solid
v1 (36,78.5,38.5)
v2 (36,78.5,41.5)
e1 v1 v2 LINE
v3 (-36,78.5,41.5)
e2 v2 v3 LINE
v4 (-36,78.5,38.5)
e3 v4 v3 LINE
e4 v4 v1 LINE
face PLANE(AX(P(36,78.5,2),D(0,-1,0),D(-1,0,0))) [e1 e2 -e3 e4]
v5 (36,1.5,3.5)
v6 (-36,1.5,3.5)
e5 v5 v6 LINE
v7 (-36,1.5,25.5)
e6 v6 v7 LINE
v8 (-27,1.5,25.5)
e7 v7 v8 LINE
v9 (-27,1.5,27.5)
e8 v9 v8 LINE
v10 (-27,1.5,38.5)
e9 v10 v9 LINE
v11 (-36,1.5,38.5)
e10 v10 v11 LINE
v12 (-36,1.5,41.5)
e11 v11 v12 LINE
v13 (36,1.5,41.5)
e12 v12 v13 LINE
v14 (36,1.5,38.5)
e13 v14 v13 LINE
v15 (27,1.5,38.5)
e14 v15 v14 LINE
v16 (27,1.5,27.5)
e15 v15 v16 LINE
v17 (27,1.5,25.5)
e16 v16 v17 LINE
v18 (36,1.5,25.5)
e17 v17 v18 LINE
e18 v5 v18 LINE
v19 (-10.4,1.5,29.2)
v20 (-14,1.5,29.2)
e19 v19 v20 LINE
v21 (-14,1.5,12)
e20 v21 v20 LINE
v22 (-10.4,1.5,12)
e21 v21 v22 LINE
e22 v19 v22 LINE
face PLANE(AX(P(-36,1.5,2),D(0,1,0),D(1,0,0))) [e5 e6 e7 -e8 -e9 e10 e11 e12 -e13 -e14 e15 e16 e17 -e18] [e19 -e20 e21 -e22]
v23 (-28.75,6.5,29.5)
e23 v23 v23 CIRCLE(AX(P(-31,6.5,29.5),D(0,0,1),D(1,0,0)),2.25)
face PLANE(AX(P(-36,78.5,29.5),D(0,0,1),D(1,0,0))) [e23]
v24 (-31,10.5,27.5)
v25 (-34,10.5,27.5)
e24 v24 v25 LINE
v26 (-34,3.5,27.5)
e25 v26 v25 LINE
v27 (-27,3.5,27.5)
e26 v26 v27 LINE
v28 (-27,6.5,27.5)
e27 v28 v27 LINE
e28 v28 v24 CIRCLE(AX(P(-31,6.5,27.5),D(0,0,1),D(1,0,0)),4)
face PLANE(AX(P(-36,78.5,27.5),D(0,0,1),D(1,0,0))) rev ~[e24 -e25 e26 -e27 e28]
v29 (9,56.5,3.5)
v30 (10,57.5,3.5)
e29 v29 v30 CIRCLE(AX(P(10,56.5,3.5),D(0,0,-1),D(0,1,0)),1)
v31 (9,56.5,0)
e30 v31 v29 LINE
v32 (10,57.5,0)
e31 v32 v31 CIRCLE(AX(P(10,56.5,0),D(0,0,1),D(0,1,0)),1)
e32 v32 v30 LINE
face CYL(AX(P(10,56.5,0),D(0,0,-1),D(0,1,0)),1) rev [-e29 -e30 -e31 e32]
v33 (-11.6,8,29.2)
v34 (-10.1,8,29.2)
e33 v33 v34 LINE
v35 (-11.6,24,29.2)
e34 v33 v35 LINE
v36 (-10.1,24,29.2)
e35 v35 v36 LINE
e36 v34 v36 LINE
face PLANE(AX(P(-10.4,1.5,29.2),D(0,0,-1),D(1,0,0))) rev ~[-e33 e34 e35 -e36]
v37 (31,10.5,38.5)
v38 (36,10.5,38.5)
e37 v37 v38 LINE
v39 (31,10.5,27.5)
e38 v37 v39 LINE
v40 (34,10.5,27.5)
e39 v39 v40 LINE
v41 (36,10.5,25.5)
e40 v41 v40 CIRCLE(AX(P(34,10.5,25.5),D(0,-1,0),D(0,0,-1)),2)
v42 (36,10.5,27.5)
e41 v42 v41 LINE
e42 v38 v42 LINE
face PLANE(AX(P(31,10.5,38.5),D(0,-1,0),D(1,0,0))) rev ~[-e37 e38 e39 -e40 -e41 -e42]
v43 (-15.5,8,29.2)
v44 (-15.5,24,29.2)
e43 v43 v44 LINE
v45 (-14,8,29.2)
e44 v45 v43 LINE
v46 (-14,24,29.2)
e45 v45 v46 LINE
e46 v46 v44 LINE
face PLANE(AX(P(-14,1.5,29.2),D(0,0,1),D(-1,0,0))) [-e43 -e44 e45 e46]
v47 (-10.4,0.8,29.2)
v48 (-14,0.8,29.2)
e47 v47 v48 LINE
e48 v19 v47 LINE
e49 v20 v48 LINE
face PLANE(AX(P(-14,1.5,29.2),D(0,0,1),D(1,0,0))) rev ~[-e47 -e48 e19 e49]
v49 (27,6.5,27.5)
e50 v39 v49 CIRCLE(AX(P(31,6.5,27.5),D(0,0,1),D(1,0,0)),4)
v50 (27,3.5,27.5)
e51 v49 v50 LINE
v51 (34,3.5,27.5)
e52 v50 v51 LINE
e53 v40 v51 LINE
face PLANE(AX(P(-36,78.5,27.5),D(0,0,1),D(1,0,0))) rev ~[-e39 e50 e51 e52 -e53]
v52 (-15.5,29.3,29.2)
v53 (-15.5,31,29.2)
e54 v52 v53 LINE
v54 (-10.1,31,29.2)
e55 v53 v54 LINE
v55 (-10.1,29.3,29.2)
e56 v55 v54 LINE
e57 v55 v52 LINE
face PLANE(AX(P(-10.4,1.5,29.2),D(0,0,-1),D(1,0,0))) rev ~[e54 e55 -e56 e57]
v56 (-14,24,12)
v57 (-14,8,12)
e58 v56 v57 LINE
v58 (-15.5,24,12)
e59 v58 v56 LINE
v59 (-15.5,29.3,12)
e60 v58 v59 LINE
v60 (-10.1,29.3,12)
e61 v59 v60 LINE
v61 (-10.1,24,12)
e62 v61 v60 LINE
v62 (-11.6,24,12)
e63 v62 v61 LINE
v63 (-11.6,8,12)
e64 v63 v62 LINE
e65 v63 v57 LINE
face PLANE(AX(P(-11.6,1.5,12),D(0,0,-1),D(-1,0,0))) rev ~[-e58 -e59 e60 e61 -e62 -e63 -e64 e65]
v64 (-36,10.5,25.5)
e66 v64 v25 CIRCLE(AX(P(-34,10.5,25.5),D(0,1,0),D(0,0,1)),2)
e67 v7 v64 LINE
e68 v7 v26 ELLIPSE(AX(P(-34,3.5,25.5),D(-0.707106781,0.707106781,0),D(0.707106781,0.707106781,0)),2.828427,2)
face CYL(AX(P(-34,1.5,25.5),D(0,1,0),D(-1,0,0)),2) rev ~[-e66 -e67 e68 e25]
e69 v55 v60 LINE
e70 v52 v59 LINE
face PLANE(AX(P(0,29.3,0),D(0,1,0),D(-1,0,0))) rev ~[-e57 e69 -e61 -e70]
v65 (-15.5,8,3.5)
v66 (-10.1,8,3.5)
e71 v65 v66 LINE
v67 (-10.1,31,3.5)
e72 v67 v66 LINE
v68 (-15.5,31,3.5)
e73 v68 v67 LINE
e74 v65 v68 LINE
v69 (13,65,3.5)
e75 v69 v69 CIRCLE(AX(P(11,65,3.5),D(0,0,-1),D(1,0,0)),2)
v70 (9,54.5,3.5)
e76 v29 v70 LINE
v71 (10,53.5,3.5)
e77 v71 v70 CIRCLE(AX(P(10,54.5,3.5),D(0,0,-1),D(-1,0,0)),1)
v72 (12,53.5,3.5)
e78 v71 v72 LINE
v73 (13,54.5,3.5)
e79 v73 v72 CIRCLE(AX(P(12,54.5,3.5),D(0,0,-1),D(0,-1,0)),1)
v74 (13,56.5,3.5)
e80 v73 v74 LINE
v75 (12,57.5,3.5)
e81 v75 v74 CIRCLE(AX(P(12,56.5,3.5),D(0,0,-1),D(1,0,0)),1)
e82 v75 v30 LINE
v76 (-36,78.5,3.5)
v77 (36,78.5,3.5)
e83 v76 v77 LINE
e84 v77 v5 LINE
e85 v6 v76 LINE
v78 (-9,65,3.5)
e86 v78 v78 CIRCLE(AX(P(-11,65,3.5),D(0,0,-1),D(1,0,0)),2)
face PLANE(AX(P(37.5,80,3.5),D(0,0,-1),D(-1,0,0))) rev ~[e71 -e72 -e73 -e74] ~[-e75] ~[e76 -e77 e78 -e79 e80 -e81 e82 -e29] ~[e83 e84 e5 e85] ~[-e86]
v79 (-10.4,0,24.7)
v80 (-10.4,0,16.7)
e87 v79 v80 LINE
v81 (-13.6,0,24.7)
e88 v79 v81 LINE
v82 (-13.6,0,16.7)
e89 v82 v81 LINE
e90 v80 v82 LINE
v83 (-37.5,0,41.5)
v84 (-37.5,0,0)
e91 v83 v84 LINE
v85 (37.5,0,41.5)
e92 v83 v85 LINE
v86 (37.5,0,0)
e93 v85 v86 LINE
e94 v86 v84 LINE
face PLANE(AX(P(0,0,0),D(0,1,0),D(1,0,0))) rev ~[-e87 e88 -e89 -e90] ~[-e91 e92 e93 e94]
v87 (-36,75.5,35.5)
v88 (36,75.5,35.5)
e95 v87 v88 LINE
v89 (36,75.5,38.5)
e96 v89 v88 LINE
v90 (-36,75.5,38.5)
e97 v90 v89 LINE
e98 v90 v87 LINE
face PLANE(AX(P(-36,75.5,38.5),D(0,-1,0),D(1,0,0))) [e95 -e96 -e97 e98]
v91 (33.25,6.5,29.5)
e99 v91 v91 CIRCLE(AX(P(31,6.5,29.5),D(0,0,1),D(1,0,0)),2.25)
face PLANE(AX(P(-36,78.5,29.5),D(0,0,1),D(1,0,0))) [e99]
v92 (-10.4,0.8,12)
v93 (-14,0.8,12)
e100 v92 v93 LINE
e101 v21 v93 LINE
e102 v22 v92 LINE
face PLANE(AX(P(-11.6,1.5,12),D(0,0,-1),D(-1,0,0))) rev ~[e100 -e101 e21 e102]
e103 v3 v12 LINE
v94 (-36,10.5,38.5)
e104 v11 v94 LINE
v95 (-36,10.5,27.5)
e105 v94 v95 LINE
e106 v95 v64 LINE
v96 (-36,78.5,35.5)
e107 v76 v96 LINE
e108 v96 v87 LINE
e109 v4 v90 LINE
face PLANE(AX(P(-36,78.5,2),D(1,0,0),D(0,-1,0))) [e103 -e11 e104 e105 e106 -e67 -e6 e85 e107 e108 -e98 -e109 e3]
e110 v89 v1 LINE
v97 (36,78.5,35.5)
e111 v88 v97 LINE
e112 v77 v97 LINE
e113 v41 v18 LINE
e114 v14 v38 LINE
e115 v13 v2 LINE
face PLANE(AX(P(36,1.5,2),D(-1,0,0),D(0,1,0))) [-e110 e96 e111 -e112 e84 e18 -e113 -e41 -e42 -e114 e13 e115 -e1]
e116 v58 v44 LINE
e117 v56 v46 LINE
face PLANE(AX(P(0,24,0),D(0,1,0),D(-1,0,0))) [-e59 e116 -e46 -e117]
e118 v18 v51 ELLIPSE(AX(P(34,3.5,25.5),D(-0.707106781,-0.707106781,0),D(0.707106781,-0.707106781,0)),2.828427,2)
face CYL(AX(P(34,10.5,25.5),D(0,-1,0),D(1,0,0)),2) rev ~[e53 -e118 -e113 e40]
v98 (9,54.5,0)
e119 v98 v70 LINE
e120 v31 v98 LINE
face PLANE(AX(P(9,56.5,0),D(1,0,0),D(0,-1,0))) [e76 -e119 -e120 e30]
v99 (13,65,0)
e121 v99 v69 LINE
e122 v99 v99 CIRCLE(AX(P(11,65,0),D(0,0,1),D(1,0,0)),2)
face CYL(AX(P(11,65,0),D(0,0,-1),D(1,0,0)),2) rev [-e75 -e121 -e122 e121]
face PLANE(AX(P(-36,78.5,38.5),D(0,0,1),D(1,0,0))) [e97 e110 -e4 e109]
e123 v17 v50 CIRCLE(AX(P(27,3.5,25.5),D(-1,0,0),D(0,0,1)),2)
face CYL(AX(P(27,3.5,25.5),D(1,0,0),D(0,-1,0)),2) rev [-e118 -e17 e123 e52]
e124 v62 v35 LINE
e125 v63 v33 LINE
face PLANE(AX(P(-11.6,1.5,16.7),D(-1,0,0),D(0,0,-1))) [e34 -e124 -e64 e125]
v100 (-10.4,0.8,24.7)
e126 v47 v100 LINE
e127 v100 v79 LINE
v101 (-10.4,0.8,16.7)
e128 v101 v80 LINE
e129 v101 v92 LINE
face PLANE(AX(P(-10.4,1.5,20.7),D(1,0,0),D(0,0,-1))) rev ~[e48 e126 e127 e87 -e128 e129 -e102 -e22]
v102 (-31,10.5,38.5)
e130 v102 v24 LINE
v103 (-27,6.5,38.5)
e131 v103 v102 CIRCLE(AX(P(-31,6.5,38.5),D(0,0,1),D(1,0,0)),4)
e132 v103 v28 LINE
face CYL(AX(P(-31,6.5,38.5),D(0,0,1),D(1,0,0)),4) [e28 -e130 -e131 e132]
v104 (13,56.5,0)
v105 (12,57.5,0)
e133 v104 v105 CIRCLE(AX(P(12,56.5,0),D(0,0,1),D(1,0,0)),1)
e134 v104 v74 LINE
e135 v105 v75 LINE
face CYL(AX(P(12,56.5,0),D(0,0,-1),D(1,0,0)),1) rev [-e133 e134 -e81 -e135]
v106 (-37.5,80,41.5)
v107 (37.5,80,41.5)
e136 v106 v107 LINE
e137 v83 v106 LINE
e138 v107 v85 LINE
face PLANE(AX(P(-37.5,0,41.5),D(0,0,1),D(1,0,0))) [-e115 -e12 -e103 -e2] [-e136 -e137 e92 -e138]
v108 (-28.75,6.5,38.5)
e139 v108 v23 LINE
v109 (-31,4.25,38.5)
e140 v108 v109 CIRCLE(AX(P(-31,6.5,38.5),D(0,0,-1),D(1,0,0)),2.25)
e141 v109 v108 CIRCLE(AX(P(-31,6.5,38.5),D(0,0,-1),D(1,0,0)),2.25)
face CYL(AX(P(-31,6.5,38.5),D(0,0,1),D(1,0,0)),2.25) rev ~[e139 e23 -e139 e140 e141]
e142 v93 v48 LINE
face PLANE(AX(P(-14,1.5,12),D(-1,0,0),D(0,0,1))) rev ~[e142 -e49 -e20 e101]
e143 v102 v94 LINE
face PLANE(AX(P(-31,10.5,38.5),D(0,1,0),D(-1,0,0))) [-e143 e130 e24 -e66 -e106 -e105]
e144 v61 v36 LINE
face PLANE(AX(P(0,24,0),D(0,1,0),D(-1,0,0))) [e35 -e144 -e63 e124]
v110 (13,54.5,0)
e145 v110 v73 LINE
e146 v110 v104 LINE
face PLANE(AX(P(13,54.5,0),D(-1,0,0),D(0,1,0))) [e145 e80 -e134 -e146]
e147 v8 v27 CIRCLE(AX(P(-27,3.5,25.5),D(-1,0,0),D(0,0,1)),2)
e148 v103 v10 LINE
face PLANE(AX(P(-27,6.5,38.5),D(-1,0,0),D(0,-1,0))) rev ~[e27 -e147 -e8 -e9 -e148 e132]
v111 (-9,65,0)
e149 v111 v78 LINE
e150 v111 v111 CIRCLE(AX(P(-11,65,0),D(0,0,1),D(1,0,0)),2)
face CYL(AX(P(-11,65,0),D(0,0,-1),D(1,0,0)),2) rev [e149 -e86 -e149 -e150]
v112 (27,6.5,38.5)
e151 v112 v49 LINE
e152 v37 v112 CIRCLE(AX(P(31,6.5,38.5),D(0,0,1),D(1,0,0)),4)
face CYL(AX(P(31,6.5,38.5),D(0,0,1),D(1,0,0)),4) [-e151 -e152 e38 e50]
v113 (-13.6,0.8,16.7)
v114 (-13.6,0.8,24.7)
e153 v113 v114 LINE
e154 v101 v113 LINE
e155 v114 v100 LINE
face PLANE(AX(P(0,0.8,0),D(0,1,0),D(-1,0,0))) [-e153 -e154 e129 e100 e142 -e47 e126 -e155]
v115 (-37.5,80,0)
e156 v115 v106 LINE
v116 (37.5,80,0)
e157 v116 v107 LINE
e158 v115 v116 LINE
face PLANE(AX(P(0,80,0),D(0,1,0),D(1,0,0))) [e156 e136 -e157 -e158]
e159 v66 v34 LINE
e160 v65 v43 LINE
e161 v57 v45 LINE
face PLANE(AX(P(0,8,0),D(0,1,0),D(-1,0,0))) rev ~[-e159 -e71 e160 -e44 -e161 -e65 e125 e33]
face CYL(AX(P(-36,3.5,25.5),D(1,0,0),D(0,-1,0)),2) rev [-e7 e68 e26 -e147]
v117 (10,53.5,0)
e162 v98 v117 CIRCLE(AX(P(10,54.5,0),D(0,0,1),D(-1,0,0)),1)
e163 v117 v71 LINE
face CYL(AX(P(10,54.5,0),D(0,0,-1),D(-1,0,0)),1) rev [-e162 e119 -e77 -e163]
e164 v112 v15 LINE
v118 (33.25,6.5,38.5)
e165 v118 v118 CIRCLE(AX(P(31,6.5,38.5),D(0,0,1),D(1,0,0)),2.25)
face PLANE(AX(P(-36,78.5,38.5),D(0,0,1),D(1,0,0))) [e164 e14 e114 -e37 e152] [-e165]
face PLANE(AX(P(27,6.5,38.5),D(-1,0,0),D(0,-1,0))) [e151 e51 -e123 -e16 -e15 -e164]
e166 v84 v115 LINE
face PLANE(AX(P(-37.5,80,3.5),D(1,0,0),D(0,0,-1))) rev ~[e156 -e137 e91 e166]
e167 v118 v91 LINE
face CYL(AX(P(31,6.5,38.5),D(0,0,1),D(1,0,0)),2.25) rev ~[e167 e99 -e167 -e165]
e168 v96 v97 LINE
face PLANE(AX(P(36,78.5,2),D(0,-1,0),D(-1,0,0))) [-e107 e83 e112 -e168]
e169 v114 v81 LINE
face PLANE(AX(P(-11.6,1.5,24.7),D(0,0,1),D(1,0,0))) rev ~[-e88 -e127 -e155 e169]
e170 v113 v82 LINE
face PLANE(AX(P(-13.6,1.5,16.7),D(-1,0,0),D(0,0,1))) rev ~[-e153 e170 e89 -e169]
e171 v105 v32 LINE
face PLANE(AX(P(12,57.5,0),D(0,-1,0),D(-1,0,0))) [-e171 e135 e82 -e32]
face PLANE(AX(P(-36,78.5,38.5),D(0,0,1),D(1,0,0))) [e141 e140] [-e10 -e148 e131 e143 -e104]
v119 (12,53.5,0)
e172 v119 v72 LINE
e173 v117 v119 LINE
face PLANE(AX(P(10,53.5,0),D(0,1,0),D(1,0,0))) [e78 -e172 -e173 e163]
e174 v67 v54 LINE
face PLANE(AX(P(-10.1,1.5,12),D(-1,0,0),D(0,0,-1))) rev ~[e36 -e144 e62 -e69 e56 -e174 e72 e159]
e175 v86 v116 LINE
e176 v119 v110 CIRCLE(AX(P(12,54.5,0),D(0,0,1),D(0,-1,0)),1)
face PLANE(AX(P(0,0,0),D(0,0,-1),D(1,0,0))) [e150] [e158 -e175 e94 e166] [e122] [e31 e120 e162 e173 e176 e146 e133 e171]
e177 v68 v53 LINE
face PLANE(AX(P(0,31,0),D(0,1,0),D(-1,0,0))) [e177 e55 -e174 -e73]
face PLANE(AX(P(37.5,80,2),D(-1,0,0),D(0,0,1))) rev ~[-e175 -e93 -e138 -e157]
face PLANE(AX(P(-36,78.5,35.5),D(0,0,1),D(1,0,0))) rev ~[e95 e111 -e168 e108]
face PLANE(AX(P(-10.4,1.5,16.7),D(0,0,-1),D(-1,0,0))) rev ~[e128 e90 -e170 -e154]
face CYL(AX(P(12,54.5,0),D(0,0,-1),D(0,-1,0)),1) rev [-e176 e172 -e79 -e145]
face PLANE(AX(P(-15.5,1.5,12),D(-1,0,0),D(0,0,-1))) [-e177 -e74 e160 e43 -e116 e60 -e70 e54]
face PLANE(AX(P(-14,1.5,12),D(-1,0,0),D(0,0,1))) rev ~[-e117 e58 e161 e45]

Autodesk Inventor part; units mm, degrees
sketch "Boceto1" plane through (0, 0, 0) normal (0, 1, 0) x (-1, 0, 0)
  line L0 (0, 0) -> (0, 0)
  line L1 (0, 0) -> (37.5, 0)
  line L2 (37.5, 0) -> (37.5, -1.5)
  line L3 (37.5, -1.5) -> (37.5, -3.5)
  line L4 (37.5, -3.5) -> (37.5, -2)
  line L5 (37.5, 0) -> (37.5, 0)
  line L6 (37.5, -3.5) -> (34, -3.5)
  line L7 (34, -3.5) -> (34, -2)
  line L8 (34, -2) -> (36, -2)
  line L9 (37.5, 0) -> (37.5, 0)
  line L10 (0, 0) -> (0, -10)
  line L11 (0, 0) -> (37.5, 0)
  line L12 (37.5, 0) -> (0, 0)
  line L13 (0, 0) -> (0, 0)
  line L14 (0, 0) -> (-37.5, 0)
  line L15 (-37.5, 0) -> (-37.5, -1.5)
  line L16 (-37.5, -1.5) -> (-37.5, -3.5)
  line L17 (-37.5, -3.5) -> (-37.5, -2)
  line L18 (-37.5, 0) -> (-37.5, 0)
  line L19 (-37.5, -3.5) -> (-34, -3.5)
  line L20 (-34, -3.5) -> (-34, -2)
  line L21 (-34, -2) -> (-36, -2)
  line L22 (-37.5, 0) -> (-37.5, 0)
  line L23 (0, 0) -> (-37.5, 0)
  line L24 (0, 0) -> (-37.5, 0)
  line L25 (37.5, 0) -> (-37.5, 0)
  line L26 (-37.5, 0) -> (-37.5, 2)
  line L27 (-37.5, 2) -> (37.5, 2)
  line L28 (37.5, 2) -> (37.5, 0)
  dimension "d0" = 0
  dimension "d1" = 37.5
  dimension "d3" = 1.5
  dimension "d4" = 2
  dimension "d5" = 1.5
  dimension "d6" = 3.5
  dimension "d7" = 2
  dimension "d8" = 0
  dimension "d9" = 10
  dimension "d31" = 2
extrude "Extrusión1" [suppressed]
sketch "Boceto2" plane through (0, 0, 0) normal (0, 0, 1) x (1, 0, 0)
  line L0 (0, 0) -> (-15, 0)
  line L1 (-15, 0) -> (-15, 62.7974)
  line L2 (-15, 62.7974) -> (-12.5, 62.7974)
  line L3 (-12.5, 62.7974) -> (-15, 60.2974)
  line L4 (-12.5, 62.7974) -> (-15, 64.2408)
  line L5 (-15, 62.7974) -> (-15, 64.2408)
  line L6 (-15, 62.7974) -> (-15, 82.1308)
  line L7 (-15, 82.1308) -> (-13, 85.5949)
  line L8 (-15, 82.1308) -> (-15, 85.5949)
  line L9 (-15, 85.5949) -> (0, 85.5949)
  line L10 (0, 85.5949) -> (0, 0)
  line L11 (-15, 62.7974) -> (-15, 43.4641)
  line L12 (-15, 43.4641) -> (-13, 40)
  line L13 (-13, 40) -> (-13, 0)
  line L14 (0, 0) -> (15, 0)
  line L15 (15, 0) -> (15, 62.7974)
  line L16 (15, 62.7974) -> (12.5, 62.7974)
  line L17 (12.5, 62.7974) -> (15, 60.2974)
  line L18 (12.5, 62.7974) -> (15, 64.2408)
  line L19 (15, 62.7974) -> (15, 64.2408)
  line L20 (15, 62.7974) -> (15, 82.1308)
  line L21 (15, 82.1308) -> (13, 85.5949)
  line L22 (15, 82.1308) -> (15, 85.5949)
  line L23 (15, 85.5949) -> (0, 85.5949)
  line L24 (15, 62.7974) -> (15, 43.4641)
  line L25 (15, 43.4641) -> (13, 40)
  line L26 (13, 40) -> (13, 0)
  dimension "d12" = 15
  dimension "d13" = 60
  dimension "d14" = 45
  dimension "d15" = 2.5
  dimension "d16" = 62.7974
  dimension "d17" = 15
  dimension "d18" = 30
  dimension "d19" = 19.3333
  dimension "d20" = 19.3333
  dimension "d21" = 150
  dimension "d22" = 2
  dimension "d24" = 2
extrude "Extrusión2" [suppressed]
extrude "Extrusión4" [suppressed]
extrude "Extrusión3" [suppressed]
extrude "Extrusión5" add sketch "Boceto1" along normal blind 80
sketch "Boceto3" plane through (-37.5, 0, 2) normal (0, 0, 1) x (1, 0, 0)
  line L0 (0, 0) -> (0, 80) projected
  line L1 (0, 0) -> (0, 80)
  line L2 (0, 80) -> (75, 80)
  line L3 (75, 80) -> (75, 0)
  line L4 (0, 0) -> (75, 0) projected
  line L5 (75, 0) -> (0, 0)
  line L6 (73.5, 1.5) -> (73.5, 78.5)
  line L7 (73.5, 78.5) -> (1.5, 78.5)
  line L8 (1.5, 78.5) -> (1.5, 1.5)
  line L9 (1.5, 1.5) -> (73.5, 1.5)
  dimension "d135" = 1.5
  dimension "d136" = 1.5
  dimension "d137" = 1.5
  dimension "d138" = 1.5
  dimension "d139" = 72
  dimension "d140" = 77
extrude "Extrusión6" add sketch "Boceto3" along normal blind 39.5
ref_plane "Plano de trabajo1" through (0, 80, 0) normal (0, 1, 0) x (1, 0, 0)
sketch "Boceto4" plane through (0, 80, 0) normal (0, 1, 0) x (1, 0, 0)
  line L0 (0, 0) -> (0, -2)
  line L1 (-37.5, -2) -> (37.5, -2) projected
  line L2 (0, -2) -> (37.5, -2)
  line L3 (0, -2) -> (-37.5, -2)
  line L4 (37.5, -2) -> (37.5, -3.5)
  line L5 (37.5, -3.5) -> (-37.5, -3.5)
  line L6 (-37.5, -3.5) -> (-37.5, -2)
  dimension "d48" = 2
  dimension "d49" = 37.5
  dimension "d50" = 37.5
  dimension "d51" = 1.5
extrude "Extrusión7" add sketch "Boceto4" against normal blind 80
ref_plane "Plano de trabajo2" through (-36, 78.5, 38.5) normal (0, 0, 1) x (1, 0, 0)
sketch "Boceto5" plane through (-36, 78.5, 38.5) normal (0, 0, 1) x (1, 0, 0)
  line L0 (0, 0) -> (72, 0) projected
  line L1 (0, 0) -> (0, -3)
  line L2 (-1.5, -78.5) -> (-1.5, 1.5) projected
  line L3 (0, -3) -> (72, -3)
  line L4 (72, -3) -> (72, 0)
  line L5 (0, -77) -> (0, 0) projected
  line L6 (72, 0) -> (0, 0)
  dimension "d144" = 3
  dimension "d145" = 72
extrude "Extrusión8" add sketch "Boceto5" against normal blind 3
ref_plane "Plano de trabajo3" through (0, 0, 0) normal (0, 1, 0) x (1, 0, 0)
sketch "Boceto6" plane through (0, 0, 0) normal (0, 1, 0) x (1, 0, 0)
  line L0 (0, 0) -> (0, -3.5)
  line L1 (0, -3.5) -> (0, -38.5)
  line L2 (-36, -38.5) -> (36, -38.5)
  line L3 (-36, -38.5) -> (-36, -33.5)
  line L4 (36, -38.5) -> (36, -33.5)
  line L5 (-36, -33.5) -> (-31, -33.5)
  line L6 (36, -33.5) -> (31, -33.5)
  circle A0 centre (-31, -33.5) radius 4
  circle A1 centre (31, -33.5) radius 4
  line L7 (-31, -29.5) -> (-36, -29.5)
  line L8 (-36, -29.5) -> (-36, -33.5)
  line L9 (-27.1194, -32.5299) -> (-27.1194, -38.5)
  line L10 (27.1194, -32.5299) -> (27.1194, -38.5)
  line L11 (31, -29.5) -> (36, -29.5)
  line L12 (36, -29.5) -> (36, -33.5)
  circle A2 centre (-31, -33.5) radius 2
  circle A3 centre (31, -33.5) radius 2
  point P0 (-27.5, -82)
  point P1 (27.5, -82)
  point P2 (27.5, -2)
  dimension "d74" = 35
  dimension "d75" = 72
  dimension "d76" = 36
  dimension "d77" = 5
  dimension "d79" = 5
  dimension "d80" = 5
  dimension "d81" = 5
  dimension "d82" = 8
  dimension "d83" = 8
  dimension "d84" = 3.5
  dimension "d85" = 0
  dimension "d88" = 4
  dimension "d89" = 4
sketch "Boceto8" plane through (0, 0, 0) normal (0, 0, 1) x (1, 0, 0)
  line L0 (0, 0) -> (0, 65)
  line L1 (0, 65) -> (-11, 65)
  circle A0 centre (-11, 65) radius 2
  line L2 (0, 65) -> (11, 65)
  circle A1 centre (11, 65) radius 2
  circle A2 centre (11, 65) radius 4
  circle A3 centre (-11, 65) radius 4
  line L3 (0, 0) -> (15, 0)
  line L4 (37.5, 0) -> (-37.5, 0) projected
  line L5 (15, 0) -> (13, 0)
  line L6 (13, 0) -> (13, 0)
  line L7 (13, 0) -> (13, 1.5)
  line L8 (13, 1.5) -> (13, 53.5)
  line L9 (13, 54.5) -> (13, 56.5)
  line L10 (12, 57.5) -> (10, 57.5)
  line L11 (9, 56.5) -> (9, 54.5)
  line L12 (10, 53.5) -> (12, 53.5)
  arc A4 (13, 56.5) -> (12, 57.5) centre (12, 56.5) ccw
  arc A5 (12, 53.5) -> (13, 54.5) centre (12, 54.5) ccw
  arc A6 (9, 54.5) -> (10, 53.5) centre (10, 54.5) ccw
  arc A7 (10, 57.5) -> (9, 56.5) centre (10, 56.5) ccw
  line L13 (37.5, 80) -> (-37.5, 80) projected
  point P0 (13, 57.5)
  point P1 (9, 57.5)
  dimension "d90" = 11
  dimension "d91" = 4
  dimension "d92" = 11
  dimension "d93" = 4
  dimension "d94" = 65
  dimension "d95" = 8
  dimension "d96" = 8
  dimension "d97" = 15
  dimension "d98" = 2
  dimension "d99" = 0
  dimension "d100" = 1.5
  dimension "d102" = 4
  dimension "d103" = 4
  dimension "d104" = 1
  dimension "d107" = 2
  dimension "d108" = 13
  dimension "d110" = 22.5
  dimension "d134" = 7.5
extrude "Extrusión12" cut sketch "Boceto8" along normal blind 10 contours A0 | A1 | A5 L12 A6 L11 A7 L10 A4 L9
sketch "Boceto9" plane through (-36, 79, 3.5) normal (0, -1, 0) x (1, 0, 0)
  line L0 (0, -1.5) -> (0, 0) projected
  line L1 (0, 0) -> (36, 0)
  line L2 (36, 0) -> (36, 52)
  line L3 (23.5, 59) -> (48.5, 59)
  line L4 (48.5, 59) -> (48.5, 45)
  line L5 (48.5, 45) -> (23.5, 45)
  line L6 (23.5, 45) -> (23.5, 59)
  line L7 (23.5, 59) -> (48.5, 45) construction
  line L8 (48.5, 59) -> (23.5, 45) construction
  line L9 (23.5, 64.4) -> (48.5, 64.4)
  line L10 (48.5, 64.4) -> (48.5, 37.4)
  line L11 (48.5, 37.4) -> (23.5, 37.4)
  line L12 (23.5, 37.4) -> (23.5, 64.4)
  line L13 (23.5, 64.4) -> (23.5, 61.9)
  line L14 (23.5, 61.9) -> (26, 61.9)
  line L15 (48.5, 64.4) -> (48.5, 61.9)
  line L16 (48.5, 61.9) -> (46, 61.9)
  circle A0 centre (26, 61.9) radius 1.5
  circle A1 centre (46, 61.9) radius 1.5
  line L17 (23.5, 37.4) -> (26, 37.4)
  line L18 (26, 37.4) -> (26, 39.9)
  line L19 (48.5, 37.4) -> (46, 37.4)
  line L20 (46, 37.4) -> (46, 39.9)
  circle A2 centre (26, 39.9) radius 1.5
  circle A3 centre (46, 39.9) radius 1.5
  point P0 (36, -3.5)
  dimension "d111" = 36
  dimension "d112" = 52
  dimension "d113" = 25
  dimension "d114" = 14
  dimension "d115" = 27
  dimension "d116" = 5.4
  dimension "d117" = 2.5
  dimension "d118" = 2.5
  dimension "d119" = 2.5
  dimension "d120" = 2.5
  dimension "d121" = 3
  dimension "d122" = 3
  dimension "d123" = 2.5
  dimension "d124" = 2.5
  dimension "d125" = 2.5
  dimension "d126" = 2.5
  dimension "d127" = 3
  dimension "d128" = 3
extrude "Extrusión13" [suppressed]
extrude "Extrusión14" [suppressed]
sketch "Boceto11" plane through (-36, 78.5, 38.5) normal (0, 0, 1) x (1, 0, 0)
  line L0 (0, -77) -> (0, 0) projected
  line L1 (0, 0) -> (0, -77)
  line L2 (0, -77) -> (5, -77)
  line L3 (5, -77) -> (5, -72)
  line L4 (0, -77) -> (72, -77)
  line L5 (72, -77) -> (72, -72)
  line L6 (72, -72) -> (67, -72)
  circle A0 centre (67, -72) radius 4
  circle A1 centre (5, -72) radius 4
  line L7 (5, -68) -> (0, -68)
  line L8 (9, -72) -> (9, -77)
  circle A2 centre (5, -72) radius 2.25
  circle A3 centre (67, -72) radius 2.25
  line L9 (67, -68) -> (72, -68)
  line L10 (72, -68) -> (72, -72)
  line L11 (63, -72) -> (63, -77)
  point P0 (0, -68)
  point P1 (5, -77)
  dimension "d146" = 77
  dimension "d147" = 5
  dimension "d148" = 5
  dimension "d149" = 72
  dimension "d150" = 5
  dimension "d151" = 5
  dimension "d152" = 8
  dimension "d153" = 8
  dimension "d154" = 4.5
  dimension "d155" = 4.5
extrude "Extrusión15" add sketch "Boceto11" against normal blind 11 contours L11 A0 L6 L5 L4 | L0 L7 A1 L3 L2 | L3 A1 L8 L4 | A2 | A1 | A3 | A0 | L6 A0 L9 L10
extrude "Extrusión16" cut sketch "Boceto11" against normal blind 9 contours A2 | A3
ref_plane "Plano de trabajo4" through (0, 1.5, 0) normal (0, 1, 0) x (-1, 0, 0)
sketch "Boceto12" plane through (0, 1.5, 0) normal (0, 1, 0) x (-1, 0, 0)
  line L0 (0, 0) -> (0, 3.5)
  line L1 (0, 3.5) -> (14, 3.5)
  line L2 (-36, 3.5) -> (36, 3.5) projected
  line L3 (14, 3.5) -> (14, 12)
  line L4 (14, 12) -> (14, 29.2)
  line L5 (14, 29.2) -> (10.4, 29.2)
  line L6 (10.4, 29.2) -> (10.4, 20.7)
  line L7 (10.4, 20.7) -> (10.4, 16.7)
  line L8 (10.4, 16.7) -> (13.6, 16.7)
  line L9 (13.6, 16.7) -> (13.6, 24.7)
  line L10 (13.6, 24.7) -> (10.4, 24.7)
  line L11 (14, 29.2) -> (15.5, 29.2)
  line L12 (15.5, 29.2) -> (15.5, 3.5)
  line L13 (15.5, 3.5) -> (14, 3.5)
  line L14 (10.4, 16.7) -> (10.4, 12)
  line L15 (10.4, 12) -> (14, 12)
  line L16 (14, 29.2) -> (11.6, 29.2)
  line L17 (11.6, 29.2) -> (11.6, 12)
  line L18 (11.6, 29.2) -> (10.1, 29.2)
  line L19 (10.1, 29.2) -> (10.1, 3.5)
  line L20 (36, 3.5) -> (-36, 3.5) projected
  line L21 (10.4, 12) -> (10.1, 12)
  line L22 (14, 12) -> (15.5, 12)
  point P0 (10.1, 3.5)
  dimension "d161" = 3.5
  dimension "d162" = 14
  dimension "d163" = 8.5
  dimension "d164" = 17.2
  dimension "d165" = 3.6
  dimension "d166" = 8.5
  dimension "d167" = 4
  dimension "d168" = 3.2
  dimension "d169" = 8
  dimension "d171" = 1.5
  dimension "d176" = 2.4
  dimension "d177" = 1.5
extrude "Extrusión21" add sketch "Boceto12" along normal blind 29.5
extrude "Extrusión17" cut sketch "Boceto12" against normal blind 1.5 contours L7 L6 L10 L17 L8 | L17 L10 L9 L8
extrude "Extrusión18" cut sketch "Boceto12" against normal blind 0.7 contours L15 L17 L8 L9 L10 L5 L4 | L14 L8 L17 L15 | L5 L17 L10 L6
extrude "Extrusión22" cut sketch "Boceto12" along normal blind 27.8 contours L19 L18 L6 L7 L14 L21 | L15 L17 L8 L9 L10 L5 L4 | L4 L11 L12 L22 | L14 L8 L17 L15 | L5 L17 L10 L6 | L7 L6 L10 L17 L8 | L17 L10 L9 L8
extrude "Extrusión19" add sketch "Boceto12" along normal blind 22.5 contours L19 L21 L15 L3 L1 | L3 L22 L12 L2 | L19 L18 L6 L7 L14 L21 | L4 L11 L12 L22 | L14 L8 L17 L15 | L5 L17 L10 L6 | L7 L6 L10 L17 L8
extrude "Extrusión20" cut sketch "Boceto12" along normal blind 6.5 contours L19 L21 L15 L3 L1 | L3 L22 L12 L2 | L19 L18 L6 L7 L14 L21 | L4 L11 L12 L22 | L14 L8 L17 L15 | L5 L17 L10 L6 | L7 L6 L10 L17 L8
fillet "Empalme1" radius 2 4 edges at (36, 6, 27.5) (31.5, 1.5, 27.5) (-31.5, 1.5, 27.5) (-36, 6, 27.5)
equation "\"d0\" = 0 * thikness_box"
equation "\"d1\" = 0.5 * box_in_width + thikness_box"
equation "\"d3\" = sfbox_width"
equation "\"d4\" = fat_width_slider"
equation "\"d5\" = slim_width_slider"
equation "\"d6\" = ext_width_slider"
equation "\"d7\" = int_width_slider"
equation "\"d8\" = 0 * thikness_box"
equation "\"d31\" = thikness"
equation "\"d10\" = box_slim_slider_lenght"
equation "\"d12\" = 0.5 * box_base_width"
equation "\"d13\" = sfbox_theta1"
equation "\"d14\" = sfbox_theta2"
equation "\"d15\" = sfbox_tip_width"
equation "\"d17\" = 0.5 * box_base_width"
equation "\"d19\" = 0.5 * sf_flex_separation"
equation "\"d20\" = 0.5 * sf_flex_separation"
equation "\"d22\" = int_width_slider"
equation "\"d24\" = int_width_slider"
equation "\"d25\" = offset_base_box"
equation "\"d27\" = sfbox_width"
equation "\"d49\" = 0.5 * box_in_width + thikness_box"
equation "\"d50\" = 0.5 * box_in_width + thikness_box"
equation "\"d51\" = thikness_box"
equation "\"d74\" = box_in_height"
equation "\"d75\" = box_in_width"
equation "\"d76\" = 0.5 * d75"
equation "\"d77\" = offset + 0.5 * screw_Dhead"
equation "\"d79\" = offset + 0.5 * screw_Dhead"
equation "\"d80\" = d77"
equation "\"d81\" = d79"
equation "\"d82\" = screw_Dhead"
equation "\"d83\" = screw_Dhead"
equation "\"d84\" = d31 + d51"
equation "\"d88\" = screw_d"
equation "\"d89\" = screw_d"
equation "\"d91\" = screw_d"
equation "\"d93\" = screw_d"
equation "\"d95\" = screw_Dhead"
equation "\"d96\" = screw_Dhead"
equation "\"d97\" = 0.5 * box_base_width"
equation "\"d99\" = d32 - 2 * thikness_box - box_in_deep"
equation "\"d100\" = thikness_box"
equation "\"d111\" = 0.5 * box_in_width"
equation "\"d113\" = width_screen"
equation "\"d114\" = height_screen"
equation "\"d115\" = height_screen_total"
equation "\"d116\" = top_from_screen"
equation "\"d117\" = offset_screw_screen + 0.5 * screw_d_screen"
equation "\"d118\" = offset_screw_screen + 0.5 * screw_d_screen"
equation "\"d119\" = offset_screw_screen + 0.5 * screw_d_screen"
equation "\"d120\" = offset_screw_screen + 0.5 * screw_d_screen"
equation "\"d121\" = screw_d_screen"
equation "\"d122\" = screw_d_screen"
equation "\"d123\" = offset_screw_screen + 0.5 * screw_d_screen"
equation "\"d124\" = offset_screw_screen + 0.5 * screw_d_screen"
equation "\"d125\" = offset_screw_screen + 0.5 * screw_d_screen"
equation "\"d126\" = offset_screw_screen + 0.5 * screw_d_screen"
equation "\"d127\" = screw_d_screen"
equation "\"d128\" = screw_d_screen"
equation "\"d131\" = deep_screw_screen"
equation "\"thikness\" = 2"
equation "\"offset\" = 1"
equation "\"screw_Dhead\" = 8"
equation "\"screw_d\" = 4"
equation "\"box_in_deep\" = 77"
equation "\"box_in_width\" = 72"
equation "\"box_in_height\" = 35"
equation "\"thikness_box\" = 1.5"
equation "\"offset_base_box\" = 40"
equation "\"box_slim_slider_lenght\" = 116"
equation "\"sf_flex_separation\" = 38.66667"
equation "\"flex_separation_theta\" = 60deg"
equation "\"int_width_slider\" = 2"
equation "\"ext_width_slider\" = 3.5"
equation "\"fat_width_slider\" = 2"
equation "\"slim_width_slider\" = 1.5"
equation "\"sfbox_width\" = 1.5"
equation "\"sfbox_tip_width\" = 2.5"
equation "\"sfbox_theta1\" = 60deg"
equation "\"sfbox_theta2\" = 45deg"
equation "\"width_screen\" = 25"
equation "\"height_screen\" = 14"
equation "\"screw_d_screen\" = 3"
equation "\"offset_screw_screen\" = 1"
equation "\"height_screen_total\" = 27"
equation "\"top_from_screen\" = 5.4"
equation "\"deep_screw_screen\" = 1.5"
equation "\"r1\" = 5.55"
equation "\"r2o\" = 59.75"
equation "\"delta_y\" = 6"
equation "\"wire_d\" = 1"
equation "\"width_ang_spring\" = 5"
equation "\"spring_int_diam\" = 8.5"
equation "\"spring_ext_diam\" = 10.5"
equation "\"r3\" = 8.25"
equation "\"r3R\" = 4.75"
equation "\"r3T\" = 6.74537"
equation "\"alpha\" = 54.847297deg"
equation "\"alpha2\" = 270deg"
equation "\"theta3_recogido\" = 305.152703deg"
equation "\"delta_theta_3\" = 45deg"
equation "\"joint_width\" = 12"
equation "\"joint_radius\" = 7.75"
equation "\"shaft_width\" = 15"
equation "\"shaft_joint_diameter\" = 7.75"
equation "\"separation_space\" = 0.5"
equation "\"height_finger\" = 42"
equation "\"cell_screw_head_diameter\" = 4"
equation "\"cell_screw_diameter\" = 2"
equation "\"cell_space\" = 2"
equation "\"cell_width\" = 6"
equation "\"cell_theta_position\" = 60deg"
equation "\"cell_thikness\" = 1"
equation "\"cell_lenght\" = 37"
equation "\"cell_z_space\" = 5"
equation "\"wire_D\" = 2.3"
equation "\"width_link\" = 8"
equation "\"Dt\" = 1.05949"
equation "\"Djoint_shaft\" = 2.3"
equation "\"shaft_x\" = 1.45"
equation "\"shaft_y\" = 6.45"
equation "\"lenght_body_link\" = 186.05"
equation "\"lenght_bar_support\" = 201.65"
equation "\"wire_spring_d\" = 1"
equation "\"spring_int_d\" = 6"
equation "\"spring_lenght\" = 28"
equation "\"trigger_offset\" = 2"
equation "\"m2_theta2o\" = 107deg"
equation "\"m2_r2\" = 28"
equation "\"e\" = 9"
equation "\"So\" = 17"
equation "\"m2_theta3o\" = -30deg"
equation "\"m2_r3\" = 19.75"
equation "\"m2_delta_theta1\" = 15deg"
equation "\"m2_theta3f\" = -60deg"
equation "\"trigger_thumb_lenght\" = 6"
equation "\"width_r12\" = 8"
equation "\"m2_r1\" = 25.2"
equation "\"r3_thikness\" = 3.5"
equation "\"t_thikness\" = 3"
equation "\"tg_width\" = 4"
equation "\"pivot_screw_d\" = 4"
equation "\"pivot_diameter\" = 7"
equation "\"sj_diam_shaft\" = 6"
equation "\"sj_groove\" = 2"
equation "\"sj_groove_deep\" = 7"
equation "\"sj_head_D\" = 7"
equation "\"sj_head_d\" = 4.7464"
equation "\"sj_head_height\" = 5"
equation "\"sf_lenght\" = 9.5"
equation "\"sf_base\" = 3"
equation "\"sf_head_height\" = 3"
equation "\"sf_head_width\" = 4.5"
equation "\"sf_head_offset\" = 0.25"
equation "\"sf_head_grip_width\" = 2"
equation "\"sf_head_angle\" = 45deg"
equation "\"sf_thikness\" = 5"
equation "\"screw_lenght\" = 12"
equation "\"screwJ_base_D\" = 9"
equation "\"screwJ_top_D\" = 13"
equation "\"gj_D\" = 6"
equation "\"gj_d\" = 4"
equation "\"gj_out_section\" = 6"
equation "\"box_fat_slider_lenght\" = 67"
equation "\"agarradera_theta\" = 60deg"
equation "\"agarradera_width\" = 4"
equation "\"agarradera_position\" = 82.13077"
equation "\"placa_width\" = 17"
equation "\"pin_width\" = 7.6"
equation "\"pin_thikness\" = 3"
equation "\"pin_out_section\" = 1"
equation "\"placa_thikness\" = 2.4"
equation "\"pin_deep\" = 6"
equation "\"placa_pin_thikness\" = 3.4"
equation "\"placa_deep\" = 27.8"
equation "\"box_base_width\" = 30"
equation "\"d32\" = 80"
properties part number "Caja"
